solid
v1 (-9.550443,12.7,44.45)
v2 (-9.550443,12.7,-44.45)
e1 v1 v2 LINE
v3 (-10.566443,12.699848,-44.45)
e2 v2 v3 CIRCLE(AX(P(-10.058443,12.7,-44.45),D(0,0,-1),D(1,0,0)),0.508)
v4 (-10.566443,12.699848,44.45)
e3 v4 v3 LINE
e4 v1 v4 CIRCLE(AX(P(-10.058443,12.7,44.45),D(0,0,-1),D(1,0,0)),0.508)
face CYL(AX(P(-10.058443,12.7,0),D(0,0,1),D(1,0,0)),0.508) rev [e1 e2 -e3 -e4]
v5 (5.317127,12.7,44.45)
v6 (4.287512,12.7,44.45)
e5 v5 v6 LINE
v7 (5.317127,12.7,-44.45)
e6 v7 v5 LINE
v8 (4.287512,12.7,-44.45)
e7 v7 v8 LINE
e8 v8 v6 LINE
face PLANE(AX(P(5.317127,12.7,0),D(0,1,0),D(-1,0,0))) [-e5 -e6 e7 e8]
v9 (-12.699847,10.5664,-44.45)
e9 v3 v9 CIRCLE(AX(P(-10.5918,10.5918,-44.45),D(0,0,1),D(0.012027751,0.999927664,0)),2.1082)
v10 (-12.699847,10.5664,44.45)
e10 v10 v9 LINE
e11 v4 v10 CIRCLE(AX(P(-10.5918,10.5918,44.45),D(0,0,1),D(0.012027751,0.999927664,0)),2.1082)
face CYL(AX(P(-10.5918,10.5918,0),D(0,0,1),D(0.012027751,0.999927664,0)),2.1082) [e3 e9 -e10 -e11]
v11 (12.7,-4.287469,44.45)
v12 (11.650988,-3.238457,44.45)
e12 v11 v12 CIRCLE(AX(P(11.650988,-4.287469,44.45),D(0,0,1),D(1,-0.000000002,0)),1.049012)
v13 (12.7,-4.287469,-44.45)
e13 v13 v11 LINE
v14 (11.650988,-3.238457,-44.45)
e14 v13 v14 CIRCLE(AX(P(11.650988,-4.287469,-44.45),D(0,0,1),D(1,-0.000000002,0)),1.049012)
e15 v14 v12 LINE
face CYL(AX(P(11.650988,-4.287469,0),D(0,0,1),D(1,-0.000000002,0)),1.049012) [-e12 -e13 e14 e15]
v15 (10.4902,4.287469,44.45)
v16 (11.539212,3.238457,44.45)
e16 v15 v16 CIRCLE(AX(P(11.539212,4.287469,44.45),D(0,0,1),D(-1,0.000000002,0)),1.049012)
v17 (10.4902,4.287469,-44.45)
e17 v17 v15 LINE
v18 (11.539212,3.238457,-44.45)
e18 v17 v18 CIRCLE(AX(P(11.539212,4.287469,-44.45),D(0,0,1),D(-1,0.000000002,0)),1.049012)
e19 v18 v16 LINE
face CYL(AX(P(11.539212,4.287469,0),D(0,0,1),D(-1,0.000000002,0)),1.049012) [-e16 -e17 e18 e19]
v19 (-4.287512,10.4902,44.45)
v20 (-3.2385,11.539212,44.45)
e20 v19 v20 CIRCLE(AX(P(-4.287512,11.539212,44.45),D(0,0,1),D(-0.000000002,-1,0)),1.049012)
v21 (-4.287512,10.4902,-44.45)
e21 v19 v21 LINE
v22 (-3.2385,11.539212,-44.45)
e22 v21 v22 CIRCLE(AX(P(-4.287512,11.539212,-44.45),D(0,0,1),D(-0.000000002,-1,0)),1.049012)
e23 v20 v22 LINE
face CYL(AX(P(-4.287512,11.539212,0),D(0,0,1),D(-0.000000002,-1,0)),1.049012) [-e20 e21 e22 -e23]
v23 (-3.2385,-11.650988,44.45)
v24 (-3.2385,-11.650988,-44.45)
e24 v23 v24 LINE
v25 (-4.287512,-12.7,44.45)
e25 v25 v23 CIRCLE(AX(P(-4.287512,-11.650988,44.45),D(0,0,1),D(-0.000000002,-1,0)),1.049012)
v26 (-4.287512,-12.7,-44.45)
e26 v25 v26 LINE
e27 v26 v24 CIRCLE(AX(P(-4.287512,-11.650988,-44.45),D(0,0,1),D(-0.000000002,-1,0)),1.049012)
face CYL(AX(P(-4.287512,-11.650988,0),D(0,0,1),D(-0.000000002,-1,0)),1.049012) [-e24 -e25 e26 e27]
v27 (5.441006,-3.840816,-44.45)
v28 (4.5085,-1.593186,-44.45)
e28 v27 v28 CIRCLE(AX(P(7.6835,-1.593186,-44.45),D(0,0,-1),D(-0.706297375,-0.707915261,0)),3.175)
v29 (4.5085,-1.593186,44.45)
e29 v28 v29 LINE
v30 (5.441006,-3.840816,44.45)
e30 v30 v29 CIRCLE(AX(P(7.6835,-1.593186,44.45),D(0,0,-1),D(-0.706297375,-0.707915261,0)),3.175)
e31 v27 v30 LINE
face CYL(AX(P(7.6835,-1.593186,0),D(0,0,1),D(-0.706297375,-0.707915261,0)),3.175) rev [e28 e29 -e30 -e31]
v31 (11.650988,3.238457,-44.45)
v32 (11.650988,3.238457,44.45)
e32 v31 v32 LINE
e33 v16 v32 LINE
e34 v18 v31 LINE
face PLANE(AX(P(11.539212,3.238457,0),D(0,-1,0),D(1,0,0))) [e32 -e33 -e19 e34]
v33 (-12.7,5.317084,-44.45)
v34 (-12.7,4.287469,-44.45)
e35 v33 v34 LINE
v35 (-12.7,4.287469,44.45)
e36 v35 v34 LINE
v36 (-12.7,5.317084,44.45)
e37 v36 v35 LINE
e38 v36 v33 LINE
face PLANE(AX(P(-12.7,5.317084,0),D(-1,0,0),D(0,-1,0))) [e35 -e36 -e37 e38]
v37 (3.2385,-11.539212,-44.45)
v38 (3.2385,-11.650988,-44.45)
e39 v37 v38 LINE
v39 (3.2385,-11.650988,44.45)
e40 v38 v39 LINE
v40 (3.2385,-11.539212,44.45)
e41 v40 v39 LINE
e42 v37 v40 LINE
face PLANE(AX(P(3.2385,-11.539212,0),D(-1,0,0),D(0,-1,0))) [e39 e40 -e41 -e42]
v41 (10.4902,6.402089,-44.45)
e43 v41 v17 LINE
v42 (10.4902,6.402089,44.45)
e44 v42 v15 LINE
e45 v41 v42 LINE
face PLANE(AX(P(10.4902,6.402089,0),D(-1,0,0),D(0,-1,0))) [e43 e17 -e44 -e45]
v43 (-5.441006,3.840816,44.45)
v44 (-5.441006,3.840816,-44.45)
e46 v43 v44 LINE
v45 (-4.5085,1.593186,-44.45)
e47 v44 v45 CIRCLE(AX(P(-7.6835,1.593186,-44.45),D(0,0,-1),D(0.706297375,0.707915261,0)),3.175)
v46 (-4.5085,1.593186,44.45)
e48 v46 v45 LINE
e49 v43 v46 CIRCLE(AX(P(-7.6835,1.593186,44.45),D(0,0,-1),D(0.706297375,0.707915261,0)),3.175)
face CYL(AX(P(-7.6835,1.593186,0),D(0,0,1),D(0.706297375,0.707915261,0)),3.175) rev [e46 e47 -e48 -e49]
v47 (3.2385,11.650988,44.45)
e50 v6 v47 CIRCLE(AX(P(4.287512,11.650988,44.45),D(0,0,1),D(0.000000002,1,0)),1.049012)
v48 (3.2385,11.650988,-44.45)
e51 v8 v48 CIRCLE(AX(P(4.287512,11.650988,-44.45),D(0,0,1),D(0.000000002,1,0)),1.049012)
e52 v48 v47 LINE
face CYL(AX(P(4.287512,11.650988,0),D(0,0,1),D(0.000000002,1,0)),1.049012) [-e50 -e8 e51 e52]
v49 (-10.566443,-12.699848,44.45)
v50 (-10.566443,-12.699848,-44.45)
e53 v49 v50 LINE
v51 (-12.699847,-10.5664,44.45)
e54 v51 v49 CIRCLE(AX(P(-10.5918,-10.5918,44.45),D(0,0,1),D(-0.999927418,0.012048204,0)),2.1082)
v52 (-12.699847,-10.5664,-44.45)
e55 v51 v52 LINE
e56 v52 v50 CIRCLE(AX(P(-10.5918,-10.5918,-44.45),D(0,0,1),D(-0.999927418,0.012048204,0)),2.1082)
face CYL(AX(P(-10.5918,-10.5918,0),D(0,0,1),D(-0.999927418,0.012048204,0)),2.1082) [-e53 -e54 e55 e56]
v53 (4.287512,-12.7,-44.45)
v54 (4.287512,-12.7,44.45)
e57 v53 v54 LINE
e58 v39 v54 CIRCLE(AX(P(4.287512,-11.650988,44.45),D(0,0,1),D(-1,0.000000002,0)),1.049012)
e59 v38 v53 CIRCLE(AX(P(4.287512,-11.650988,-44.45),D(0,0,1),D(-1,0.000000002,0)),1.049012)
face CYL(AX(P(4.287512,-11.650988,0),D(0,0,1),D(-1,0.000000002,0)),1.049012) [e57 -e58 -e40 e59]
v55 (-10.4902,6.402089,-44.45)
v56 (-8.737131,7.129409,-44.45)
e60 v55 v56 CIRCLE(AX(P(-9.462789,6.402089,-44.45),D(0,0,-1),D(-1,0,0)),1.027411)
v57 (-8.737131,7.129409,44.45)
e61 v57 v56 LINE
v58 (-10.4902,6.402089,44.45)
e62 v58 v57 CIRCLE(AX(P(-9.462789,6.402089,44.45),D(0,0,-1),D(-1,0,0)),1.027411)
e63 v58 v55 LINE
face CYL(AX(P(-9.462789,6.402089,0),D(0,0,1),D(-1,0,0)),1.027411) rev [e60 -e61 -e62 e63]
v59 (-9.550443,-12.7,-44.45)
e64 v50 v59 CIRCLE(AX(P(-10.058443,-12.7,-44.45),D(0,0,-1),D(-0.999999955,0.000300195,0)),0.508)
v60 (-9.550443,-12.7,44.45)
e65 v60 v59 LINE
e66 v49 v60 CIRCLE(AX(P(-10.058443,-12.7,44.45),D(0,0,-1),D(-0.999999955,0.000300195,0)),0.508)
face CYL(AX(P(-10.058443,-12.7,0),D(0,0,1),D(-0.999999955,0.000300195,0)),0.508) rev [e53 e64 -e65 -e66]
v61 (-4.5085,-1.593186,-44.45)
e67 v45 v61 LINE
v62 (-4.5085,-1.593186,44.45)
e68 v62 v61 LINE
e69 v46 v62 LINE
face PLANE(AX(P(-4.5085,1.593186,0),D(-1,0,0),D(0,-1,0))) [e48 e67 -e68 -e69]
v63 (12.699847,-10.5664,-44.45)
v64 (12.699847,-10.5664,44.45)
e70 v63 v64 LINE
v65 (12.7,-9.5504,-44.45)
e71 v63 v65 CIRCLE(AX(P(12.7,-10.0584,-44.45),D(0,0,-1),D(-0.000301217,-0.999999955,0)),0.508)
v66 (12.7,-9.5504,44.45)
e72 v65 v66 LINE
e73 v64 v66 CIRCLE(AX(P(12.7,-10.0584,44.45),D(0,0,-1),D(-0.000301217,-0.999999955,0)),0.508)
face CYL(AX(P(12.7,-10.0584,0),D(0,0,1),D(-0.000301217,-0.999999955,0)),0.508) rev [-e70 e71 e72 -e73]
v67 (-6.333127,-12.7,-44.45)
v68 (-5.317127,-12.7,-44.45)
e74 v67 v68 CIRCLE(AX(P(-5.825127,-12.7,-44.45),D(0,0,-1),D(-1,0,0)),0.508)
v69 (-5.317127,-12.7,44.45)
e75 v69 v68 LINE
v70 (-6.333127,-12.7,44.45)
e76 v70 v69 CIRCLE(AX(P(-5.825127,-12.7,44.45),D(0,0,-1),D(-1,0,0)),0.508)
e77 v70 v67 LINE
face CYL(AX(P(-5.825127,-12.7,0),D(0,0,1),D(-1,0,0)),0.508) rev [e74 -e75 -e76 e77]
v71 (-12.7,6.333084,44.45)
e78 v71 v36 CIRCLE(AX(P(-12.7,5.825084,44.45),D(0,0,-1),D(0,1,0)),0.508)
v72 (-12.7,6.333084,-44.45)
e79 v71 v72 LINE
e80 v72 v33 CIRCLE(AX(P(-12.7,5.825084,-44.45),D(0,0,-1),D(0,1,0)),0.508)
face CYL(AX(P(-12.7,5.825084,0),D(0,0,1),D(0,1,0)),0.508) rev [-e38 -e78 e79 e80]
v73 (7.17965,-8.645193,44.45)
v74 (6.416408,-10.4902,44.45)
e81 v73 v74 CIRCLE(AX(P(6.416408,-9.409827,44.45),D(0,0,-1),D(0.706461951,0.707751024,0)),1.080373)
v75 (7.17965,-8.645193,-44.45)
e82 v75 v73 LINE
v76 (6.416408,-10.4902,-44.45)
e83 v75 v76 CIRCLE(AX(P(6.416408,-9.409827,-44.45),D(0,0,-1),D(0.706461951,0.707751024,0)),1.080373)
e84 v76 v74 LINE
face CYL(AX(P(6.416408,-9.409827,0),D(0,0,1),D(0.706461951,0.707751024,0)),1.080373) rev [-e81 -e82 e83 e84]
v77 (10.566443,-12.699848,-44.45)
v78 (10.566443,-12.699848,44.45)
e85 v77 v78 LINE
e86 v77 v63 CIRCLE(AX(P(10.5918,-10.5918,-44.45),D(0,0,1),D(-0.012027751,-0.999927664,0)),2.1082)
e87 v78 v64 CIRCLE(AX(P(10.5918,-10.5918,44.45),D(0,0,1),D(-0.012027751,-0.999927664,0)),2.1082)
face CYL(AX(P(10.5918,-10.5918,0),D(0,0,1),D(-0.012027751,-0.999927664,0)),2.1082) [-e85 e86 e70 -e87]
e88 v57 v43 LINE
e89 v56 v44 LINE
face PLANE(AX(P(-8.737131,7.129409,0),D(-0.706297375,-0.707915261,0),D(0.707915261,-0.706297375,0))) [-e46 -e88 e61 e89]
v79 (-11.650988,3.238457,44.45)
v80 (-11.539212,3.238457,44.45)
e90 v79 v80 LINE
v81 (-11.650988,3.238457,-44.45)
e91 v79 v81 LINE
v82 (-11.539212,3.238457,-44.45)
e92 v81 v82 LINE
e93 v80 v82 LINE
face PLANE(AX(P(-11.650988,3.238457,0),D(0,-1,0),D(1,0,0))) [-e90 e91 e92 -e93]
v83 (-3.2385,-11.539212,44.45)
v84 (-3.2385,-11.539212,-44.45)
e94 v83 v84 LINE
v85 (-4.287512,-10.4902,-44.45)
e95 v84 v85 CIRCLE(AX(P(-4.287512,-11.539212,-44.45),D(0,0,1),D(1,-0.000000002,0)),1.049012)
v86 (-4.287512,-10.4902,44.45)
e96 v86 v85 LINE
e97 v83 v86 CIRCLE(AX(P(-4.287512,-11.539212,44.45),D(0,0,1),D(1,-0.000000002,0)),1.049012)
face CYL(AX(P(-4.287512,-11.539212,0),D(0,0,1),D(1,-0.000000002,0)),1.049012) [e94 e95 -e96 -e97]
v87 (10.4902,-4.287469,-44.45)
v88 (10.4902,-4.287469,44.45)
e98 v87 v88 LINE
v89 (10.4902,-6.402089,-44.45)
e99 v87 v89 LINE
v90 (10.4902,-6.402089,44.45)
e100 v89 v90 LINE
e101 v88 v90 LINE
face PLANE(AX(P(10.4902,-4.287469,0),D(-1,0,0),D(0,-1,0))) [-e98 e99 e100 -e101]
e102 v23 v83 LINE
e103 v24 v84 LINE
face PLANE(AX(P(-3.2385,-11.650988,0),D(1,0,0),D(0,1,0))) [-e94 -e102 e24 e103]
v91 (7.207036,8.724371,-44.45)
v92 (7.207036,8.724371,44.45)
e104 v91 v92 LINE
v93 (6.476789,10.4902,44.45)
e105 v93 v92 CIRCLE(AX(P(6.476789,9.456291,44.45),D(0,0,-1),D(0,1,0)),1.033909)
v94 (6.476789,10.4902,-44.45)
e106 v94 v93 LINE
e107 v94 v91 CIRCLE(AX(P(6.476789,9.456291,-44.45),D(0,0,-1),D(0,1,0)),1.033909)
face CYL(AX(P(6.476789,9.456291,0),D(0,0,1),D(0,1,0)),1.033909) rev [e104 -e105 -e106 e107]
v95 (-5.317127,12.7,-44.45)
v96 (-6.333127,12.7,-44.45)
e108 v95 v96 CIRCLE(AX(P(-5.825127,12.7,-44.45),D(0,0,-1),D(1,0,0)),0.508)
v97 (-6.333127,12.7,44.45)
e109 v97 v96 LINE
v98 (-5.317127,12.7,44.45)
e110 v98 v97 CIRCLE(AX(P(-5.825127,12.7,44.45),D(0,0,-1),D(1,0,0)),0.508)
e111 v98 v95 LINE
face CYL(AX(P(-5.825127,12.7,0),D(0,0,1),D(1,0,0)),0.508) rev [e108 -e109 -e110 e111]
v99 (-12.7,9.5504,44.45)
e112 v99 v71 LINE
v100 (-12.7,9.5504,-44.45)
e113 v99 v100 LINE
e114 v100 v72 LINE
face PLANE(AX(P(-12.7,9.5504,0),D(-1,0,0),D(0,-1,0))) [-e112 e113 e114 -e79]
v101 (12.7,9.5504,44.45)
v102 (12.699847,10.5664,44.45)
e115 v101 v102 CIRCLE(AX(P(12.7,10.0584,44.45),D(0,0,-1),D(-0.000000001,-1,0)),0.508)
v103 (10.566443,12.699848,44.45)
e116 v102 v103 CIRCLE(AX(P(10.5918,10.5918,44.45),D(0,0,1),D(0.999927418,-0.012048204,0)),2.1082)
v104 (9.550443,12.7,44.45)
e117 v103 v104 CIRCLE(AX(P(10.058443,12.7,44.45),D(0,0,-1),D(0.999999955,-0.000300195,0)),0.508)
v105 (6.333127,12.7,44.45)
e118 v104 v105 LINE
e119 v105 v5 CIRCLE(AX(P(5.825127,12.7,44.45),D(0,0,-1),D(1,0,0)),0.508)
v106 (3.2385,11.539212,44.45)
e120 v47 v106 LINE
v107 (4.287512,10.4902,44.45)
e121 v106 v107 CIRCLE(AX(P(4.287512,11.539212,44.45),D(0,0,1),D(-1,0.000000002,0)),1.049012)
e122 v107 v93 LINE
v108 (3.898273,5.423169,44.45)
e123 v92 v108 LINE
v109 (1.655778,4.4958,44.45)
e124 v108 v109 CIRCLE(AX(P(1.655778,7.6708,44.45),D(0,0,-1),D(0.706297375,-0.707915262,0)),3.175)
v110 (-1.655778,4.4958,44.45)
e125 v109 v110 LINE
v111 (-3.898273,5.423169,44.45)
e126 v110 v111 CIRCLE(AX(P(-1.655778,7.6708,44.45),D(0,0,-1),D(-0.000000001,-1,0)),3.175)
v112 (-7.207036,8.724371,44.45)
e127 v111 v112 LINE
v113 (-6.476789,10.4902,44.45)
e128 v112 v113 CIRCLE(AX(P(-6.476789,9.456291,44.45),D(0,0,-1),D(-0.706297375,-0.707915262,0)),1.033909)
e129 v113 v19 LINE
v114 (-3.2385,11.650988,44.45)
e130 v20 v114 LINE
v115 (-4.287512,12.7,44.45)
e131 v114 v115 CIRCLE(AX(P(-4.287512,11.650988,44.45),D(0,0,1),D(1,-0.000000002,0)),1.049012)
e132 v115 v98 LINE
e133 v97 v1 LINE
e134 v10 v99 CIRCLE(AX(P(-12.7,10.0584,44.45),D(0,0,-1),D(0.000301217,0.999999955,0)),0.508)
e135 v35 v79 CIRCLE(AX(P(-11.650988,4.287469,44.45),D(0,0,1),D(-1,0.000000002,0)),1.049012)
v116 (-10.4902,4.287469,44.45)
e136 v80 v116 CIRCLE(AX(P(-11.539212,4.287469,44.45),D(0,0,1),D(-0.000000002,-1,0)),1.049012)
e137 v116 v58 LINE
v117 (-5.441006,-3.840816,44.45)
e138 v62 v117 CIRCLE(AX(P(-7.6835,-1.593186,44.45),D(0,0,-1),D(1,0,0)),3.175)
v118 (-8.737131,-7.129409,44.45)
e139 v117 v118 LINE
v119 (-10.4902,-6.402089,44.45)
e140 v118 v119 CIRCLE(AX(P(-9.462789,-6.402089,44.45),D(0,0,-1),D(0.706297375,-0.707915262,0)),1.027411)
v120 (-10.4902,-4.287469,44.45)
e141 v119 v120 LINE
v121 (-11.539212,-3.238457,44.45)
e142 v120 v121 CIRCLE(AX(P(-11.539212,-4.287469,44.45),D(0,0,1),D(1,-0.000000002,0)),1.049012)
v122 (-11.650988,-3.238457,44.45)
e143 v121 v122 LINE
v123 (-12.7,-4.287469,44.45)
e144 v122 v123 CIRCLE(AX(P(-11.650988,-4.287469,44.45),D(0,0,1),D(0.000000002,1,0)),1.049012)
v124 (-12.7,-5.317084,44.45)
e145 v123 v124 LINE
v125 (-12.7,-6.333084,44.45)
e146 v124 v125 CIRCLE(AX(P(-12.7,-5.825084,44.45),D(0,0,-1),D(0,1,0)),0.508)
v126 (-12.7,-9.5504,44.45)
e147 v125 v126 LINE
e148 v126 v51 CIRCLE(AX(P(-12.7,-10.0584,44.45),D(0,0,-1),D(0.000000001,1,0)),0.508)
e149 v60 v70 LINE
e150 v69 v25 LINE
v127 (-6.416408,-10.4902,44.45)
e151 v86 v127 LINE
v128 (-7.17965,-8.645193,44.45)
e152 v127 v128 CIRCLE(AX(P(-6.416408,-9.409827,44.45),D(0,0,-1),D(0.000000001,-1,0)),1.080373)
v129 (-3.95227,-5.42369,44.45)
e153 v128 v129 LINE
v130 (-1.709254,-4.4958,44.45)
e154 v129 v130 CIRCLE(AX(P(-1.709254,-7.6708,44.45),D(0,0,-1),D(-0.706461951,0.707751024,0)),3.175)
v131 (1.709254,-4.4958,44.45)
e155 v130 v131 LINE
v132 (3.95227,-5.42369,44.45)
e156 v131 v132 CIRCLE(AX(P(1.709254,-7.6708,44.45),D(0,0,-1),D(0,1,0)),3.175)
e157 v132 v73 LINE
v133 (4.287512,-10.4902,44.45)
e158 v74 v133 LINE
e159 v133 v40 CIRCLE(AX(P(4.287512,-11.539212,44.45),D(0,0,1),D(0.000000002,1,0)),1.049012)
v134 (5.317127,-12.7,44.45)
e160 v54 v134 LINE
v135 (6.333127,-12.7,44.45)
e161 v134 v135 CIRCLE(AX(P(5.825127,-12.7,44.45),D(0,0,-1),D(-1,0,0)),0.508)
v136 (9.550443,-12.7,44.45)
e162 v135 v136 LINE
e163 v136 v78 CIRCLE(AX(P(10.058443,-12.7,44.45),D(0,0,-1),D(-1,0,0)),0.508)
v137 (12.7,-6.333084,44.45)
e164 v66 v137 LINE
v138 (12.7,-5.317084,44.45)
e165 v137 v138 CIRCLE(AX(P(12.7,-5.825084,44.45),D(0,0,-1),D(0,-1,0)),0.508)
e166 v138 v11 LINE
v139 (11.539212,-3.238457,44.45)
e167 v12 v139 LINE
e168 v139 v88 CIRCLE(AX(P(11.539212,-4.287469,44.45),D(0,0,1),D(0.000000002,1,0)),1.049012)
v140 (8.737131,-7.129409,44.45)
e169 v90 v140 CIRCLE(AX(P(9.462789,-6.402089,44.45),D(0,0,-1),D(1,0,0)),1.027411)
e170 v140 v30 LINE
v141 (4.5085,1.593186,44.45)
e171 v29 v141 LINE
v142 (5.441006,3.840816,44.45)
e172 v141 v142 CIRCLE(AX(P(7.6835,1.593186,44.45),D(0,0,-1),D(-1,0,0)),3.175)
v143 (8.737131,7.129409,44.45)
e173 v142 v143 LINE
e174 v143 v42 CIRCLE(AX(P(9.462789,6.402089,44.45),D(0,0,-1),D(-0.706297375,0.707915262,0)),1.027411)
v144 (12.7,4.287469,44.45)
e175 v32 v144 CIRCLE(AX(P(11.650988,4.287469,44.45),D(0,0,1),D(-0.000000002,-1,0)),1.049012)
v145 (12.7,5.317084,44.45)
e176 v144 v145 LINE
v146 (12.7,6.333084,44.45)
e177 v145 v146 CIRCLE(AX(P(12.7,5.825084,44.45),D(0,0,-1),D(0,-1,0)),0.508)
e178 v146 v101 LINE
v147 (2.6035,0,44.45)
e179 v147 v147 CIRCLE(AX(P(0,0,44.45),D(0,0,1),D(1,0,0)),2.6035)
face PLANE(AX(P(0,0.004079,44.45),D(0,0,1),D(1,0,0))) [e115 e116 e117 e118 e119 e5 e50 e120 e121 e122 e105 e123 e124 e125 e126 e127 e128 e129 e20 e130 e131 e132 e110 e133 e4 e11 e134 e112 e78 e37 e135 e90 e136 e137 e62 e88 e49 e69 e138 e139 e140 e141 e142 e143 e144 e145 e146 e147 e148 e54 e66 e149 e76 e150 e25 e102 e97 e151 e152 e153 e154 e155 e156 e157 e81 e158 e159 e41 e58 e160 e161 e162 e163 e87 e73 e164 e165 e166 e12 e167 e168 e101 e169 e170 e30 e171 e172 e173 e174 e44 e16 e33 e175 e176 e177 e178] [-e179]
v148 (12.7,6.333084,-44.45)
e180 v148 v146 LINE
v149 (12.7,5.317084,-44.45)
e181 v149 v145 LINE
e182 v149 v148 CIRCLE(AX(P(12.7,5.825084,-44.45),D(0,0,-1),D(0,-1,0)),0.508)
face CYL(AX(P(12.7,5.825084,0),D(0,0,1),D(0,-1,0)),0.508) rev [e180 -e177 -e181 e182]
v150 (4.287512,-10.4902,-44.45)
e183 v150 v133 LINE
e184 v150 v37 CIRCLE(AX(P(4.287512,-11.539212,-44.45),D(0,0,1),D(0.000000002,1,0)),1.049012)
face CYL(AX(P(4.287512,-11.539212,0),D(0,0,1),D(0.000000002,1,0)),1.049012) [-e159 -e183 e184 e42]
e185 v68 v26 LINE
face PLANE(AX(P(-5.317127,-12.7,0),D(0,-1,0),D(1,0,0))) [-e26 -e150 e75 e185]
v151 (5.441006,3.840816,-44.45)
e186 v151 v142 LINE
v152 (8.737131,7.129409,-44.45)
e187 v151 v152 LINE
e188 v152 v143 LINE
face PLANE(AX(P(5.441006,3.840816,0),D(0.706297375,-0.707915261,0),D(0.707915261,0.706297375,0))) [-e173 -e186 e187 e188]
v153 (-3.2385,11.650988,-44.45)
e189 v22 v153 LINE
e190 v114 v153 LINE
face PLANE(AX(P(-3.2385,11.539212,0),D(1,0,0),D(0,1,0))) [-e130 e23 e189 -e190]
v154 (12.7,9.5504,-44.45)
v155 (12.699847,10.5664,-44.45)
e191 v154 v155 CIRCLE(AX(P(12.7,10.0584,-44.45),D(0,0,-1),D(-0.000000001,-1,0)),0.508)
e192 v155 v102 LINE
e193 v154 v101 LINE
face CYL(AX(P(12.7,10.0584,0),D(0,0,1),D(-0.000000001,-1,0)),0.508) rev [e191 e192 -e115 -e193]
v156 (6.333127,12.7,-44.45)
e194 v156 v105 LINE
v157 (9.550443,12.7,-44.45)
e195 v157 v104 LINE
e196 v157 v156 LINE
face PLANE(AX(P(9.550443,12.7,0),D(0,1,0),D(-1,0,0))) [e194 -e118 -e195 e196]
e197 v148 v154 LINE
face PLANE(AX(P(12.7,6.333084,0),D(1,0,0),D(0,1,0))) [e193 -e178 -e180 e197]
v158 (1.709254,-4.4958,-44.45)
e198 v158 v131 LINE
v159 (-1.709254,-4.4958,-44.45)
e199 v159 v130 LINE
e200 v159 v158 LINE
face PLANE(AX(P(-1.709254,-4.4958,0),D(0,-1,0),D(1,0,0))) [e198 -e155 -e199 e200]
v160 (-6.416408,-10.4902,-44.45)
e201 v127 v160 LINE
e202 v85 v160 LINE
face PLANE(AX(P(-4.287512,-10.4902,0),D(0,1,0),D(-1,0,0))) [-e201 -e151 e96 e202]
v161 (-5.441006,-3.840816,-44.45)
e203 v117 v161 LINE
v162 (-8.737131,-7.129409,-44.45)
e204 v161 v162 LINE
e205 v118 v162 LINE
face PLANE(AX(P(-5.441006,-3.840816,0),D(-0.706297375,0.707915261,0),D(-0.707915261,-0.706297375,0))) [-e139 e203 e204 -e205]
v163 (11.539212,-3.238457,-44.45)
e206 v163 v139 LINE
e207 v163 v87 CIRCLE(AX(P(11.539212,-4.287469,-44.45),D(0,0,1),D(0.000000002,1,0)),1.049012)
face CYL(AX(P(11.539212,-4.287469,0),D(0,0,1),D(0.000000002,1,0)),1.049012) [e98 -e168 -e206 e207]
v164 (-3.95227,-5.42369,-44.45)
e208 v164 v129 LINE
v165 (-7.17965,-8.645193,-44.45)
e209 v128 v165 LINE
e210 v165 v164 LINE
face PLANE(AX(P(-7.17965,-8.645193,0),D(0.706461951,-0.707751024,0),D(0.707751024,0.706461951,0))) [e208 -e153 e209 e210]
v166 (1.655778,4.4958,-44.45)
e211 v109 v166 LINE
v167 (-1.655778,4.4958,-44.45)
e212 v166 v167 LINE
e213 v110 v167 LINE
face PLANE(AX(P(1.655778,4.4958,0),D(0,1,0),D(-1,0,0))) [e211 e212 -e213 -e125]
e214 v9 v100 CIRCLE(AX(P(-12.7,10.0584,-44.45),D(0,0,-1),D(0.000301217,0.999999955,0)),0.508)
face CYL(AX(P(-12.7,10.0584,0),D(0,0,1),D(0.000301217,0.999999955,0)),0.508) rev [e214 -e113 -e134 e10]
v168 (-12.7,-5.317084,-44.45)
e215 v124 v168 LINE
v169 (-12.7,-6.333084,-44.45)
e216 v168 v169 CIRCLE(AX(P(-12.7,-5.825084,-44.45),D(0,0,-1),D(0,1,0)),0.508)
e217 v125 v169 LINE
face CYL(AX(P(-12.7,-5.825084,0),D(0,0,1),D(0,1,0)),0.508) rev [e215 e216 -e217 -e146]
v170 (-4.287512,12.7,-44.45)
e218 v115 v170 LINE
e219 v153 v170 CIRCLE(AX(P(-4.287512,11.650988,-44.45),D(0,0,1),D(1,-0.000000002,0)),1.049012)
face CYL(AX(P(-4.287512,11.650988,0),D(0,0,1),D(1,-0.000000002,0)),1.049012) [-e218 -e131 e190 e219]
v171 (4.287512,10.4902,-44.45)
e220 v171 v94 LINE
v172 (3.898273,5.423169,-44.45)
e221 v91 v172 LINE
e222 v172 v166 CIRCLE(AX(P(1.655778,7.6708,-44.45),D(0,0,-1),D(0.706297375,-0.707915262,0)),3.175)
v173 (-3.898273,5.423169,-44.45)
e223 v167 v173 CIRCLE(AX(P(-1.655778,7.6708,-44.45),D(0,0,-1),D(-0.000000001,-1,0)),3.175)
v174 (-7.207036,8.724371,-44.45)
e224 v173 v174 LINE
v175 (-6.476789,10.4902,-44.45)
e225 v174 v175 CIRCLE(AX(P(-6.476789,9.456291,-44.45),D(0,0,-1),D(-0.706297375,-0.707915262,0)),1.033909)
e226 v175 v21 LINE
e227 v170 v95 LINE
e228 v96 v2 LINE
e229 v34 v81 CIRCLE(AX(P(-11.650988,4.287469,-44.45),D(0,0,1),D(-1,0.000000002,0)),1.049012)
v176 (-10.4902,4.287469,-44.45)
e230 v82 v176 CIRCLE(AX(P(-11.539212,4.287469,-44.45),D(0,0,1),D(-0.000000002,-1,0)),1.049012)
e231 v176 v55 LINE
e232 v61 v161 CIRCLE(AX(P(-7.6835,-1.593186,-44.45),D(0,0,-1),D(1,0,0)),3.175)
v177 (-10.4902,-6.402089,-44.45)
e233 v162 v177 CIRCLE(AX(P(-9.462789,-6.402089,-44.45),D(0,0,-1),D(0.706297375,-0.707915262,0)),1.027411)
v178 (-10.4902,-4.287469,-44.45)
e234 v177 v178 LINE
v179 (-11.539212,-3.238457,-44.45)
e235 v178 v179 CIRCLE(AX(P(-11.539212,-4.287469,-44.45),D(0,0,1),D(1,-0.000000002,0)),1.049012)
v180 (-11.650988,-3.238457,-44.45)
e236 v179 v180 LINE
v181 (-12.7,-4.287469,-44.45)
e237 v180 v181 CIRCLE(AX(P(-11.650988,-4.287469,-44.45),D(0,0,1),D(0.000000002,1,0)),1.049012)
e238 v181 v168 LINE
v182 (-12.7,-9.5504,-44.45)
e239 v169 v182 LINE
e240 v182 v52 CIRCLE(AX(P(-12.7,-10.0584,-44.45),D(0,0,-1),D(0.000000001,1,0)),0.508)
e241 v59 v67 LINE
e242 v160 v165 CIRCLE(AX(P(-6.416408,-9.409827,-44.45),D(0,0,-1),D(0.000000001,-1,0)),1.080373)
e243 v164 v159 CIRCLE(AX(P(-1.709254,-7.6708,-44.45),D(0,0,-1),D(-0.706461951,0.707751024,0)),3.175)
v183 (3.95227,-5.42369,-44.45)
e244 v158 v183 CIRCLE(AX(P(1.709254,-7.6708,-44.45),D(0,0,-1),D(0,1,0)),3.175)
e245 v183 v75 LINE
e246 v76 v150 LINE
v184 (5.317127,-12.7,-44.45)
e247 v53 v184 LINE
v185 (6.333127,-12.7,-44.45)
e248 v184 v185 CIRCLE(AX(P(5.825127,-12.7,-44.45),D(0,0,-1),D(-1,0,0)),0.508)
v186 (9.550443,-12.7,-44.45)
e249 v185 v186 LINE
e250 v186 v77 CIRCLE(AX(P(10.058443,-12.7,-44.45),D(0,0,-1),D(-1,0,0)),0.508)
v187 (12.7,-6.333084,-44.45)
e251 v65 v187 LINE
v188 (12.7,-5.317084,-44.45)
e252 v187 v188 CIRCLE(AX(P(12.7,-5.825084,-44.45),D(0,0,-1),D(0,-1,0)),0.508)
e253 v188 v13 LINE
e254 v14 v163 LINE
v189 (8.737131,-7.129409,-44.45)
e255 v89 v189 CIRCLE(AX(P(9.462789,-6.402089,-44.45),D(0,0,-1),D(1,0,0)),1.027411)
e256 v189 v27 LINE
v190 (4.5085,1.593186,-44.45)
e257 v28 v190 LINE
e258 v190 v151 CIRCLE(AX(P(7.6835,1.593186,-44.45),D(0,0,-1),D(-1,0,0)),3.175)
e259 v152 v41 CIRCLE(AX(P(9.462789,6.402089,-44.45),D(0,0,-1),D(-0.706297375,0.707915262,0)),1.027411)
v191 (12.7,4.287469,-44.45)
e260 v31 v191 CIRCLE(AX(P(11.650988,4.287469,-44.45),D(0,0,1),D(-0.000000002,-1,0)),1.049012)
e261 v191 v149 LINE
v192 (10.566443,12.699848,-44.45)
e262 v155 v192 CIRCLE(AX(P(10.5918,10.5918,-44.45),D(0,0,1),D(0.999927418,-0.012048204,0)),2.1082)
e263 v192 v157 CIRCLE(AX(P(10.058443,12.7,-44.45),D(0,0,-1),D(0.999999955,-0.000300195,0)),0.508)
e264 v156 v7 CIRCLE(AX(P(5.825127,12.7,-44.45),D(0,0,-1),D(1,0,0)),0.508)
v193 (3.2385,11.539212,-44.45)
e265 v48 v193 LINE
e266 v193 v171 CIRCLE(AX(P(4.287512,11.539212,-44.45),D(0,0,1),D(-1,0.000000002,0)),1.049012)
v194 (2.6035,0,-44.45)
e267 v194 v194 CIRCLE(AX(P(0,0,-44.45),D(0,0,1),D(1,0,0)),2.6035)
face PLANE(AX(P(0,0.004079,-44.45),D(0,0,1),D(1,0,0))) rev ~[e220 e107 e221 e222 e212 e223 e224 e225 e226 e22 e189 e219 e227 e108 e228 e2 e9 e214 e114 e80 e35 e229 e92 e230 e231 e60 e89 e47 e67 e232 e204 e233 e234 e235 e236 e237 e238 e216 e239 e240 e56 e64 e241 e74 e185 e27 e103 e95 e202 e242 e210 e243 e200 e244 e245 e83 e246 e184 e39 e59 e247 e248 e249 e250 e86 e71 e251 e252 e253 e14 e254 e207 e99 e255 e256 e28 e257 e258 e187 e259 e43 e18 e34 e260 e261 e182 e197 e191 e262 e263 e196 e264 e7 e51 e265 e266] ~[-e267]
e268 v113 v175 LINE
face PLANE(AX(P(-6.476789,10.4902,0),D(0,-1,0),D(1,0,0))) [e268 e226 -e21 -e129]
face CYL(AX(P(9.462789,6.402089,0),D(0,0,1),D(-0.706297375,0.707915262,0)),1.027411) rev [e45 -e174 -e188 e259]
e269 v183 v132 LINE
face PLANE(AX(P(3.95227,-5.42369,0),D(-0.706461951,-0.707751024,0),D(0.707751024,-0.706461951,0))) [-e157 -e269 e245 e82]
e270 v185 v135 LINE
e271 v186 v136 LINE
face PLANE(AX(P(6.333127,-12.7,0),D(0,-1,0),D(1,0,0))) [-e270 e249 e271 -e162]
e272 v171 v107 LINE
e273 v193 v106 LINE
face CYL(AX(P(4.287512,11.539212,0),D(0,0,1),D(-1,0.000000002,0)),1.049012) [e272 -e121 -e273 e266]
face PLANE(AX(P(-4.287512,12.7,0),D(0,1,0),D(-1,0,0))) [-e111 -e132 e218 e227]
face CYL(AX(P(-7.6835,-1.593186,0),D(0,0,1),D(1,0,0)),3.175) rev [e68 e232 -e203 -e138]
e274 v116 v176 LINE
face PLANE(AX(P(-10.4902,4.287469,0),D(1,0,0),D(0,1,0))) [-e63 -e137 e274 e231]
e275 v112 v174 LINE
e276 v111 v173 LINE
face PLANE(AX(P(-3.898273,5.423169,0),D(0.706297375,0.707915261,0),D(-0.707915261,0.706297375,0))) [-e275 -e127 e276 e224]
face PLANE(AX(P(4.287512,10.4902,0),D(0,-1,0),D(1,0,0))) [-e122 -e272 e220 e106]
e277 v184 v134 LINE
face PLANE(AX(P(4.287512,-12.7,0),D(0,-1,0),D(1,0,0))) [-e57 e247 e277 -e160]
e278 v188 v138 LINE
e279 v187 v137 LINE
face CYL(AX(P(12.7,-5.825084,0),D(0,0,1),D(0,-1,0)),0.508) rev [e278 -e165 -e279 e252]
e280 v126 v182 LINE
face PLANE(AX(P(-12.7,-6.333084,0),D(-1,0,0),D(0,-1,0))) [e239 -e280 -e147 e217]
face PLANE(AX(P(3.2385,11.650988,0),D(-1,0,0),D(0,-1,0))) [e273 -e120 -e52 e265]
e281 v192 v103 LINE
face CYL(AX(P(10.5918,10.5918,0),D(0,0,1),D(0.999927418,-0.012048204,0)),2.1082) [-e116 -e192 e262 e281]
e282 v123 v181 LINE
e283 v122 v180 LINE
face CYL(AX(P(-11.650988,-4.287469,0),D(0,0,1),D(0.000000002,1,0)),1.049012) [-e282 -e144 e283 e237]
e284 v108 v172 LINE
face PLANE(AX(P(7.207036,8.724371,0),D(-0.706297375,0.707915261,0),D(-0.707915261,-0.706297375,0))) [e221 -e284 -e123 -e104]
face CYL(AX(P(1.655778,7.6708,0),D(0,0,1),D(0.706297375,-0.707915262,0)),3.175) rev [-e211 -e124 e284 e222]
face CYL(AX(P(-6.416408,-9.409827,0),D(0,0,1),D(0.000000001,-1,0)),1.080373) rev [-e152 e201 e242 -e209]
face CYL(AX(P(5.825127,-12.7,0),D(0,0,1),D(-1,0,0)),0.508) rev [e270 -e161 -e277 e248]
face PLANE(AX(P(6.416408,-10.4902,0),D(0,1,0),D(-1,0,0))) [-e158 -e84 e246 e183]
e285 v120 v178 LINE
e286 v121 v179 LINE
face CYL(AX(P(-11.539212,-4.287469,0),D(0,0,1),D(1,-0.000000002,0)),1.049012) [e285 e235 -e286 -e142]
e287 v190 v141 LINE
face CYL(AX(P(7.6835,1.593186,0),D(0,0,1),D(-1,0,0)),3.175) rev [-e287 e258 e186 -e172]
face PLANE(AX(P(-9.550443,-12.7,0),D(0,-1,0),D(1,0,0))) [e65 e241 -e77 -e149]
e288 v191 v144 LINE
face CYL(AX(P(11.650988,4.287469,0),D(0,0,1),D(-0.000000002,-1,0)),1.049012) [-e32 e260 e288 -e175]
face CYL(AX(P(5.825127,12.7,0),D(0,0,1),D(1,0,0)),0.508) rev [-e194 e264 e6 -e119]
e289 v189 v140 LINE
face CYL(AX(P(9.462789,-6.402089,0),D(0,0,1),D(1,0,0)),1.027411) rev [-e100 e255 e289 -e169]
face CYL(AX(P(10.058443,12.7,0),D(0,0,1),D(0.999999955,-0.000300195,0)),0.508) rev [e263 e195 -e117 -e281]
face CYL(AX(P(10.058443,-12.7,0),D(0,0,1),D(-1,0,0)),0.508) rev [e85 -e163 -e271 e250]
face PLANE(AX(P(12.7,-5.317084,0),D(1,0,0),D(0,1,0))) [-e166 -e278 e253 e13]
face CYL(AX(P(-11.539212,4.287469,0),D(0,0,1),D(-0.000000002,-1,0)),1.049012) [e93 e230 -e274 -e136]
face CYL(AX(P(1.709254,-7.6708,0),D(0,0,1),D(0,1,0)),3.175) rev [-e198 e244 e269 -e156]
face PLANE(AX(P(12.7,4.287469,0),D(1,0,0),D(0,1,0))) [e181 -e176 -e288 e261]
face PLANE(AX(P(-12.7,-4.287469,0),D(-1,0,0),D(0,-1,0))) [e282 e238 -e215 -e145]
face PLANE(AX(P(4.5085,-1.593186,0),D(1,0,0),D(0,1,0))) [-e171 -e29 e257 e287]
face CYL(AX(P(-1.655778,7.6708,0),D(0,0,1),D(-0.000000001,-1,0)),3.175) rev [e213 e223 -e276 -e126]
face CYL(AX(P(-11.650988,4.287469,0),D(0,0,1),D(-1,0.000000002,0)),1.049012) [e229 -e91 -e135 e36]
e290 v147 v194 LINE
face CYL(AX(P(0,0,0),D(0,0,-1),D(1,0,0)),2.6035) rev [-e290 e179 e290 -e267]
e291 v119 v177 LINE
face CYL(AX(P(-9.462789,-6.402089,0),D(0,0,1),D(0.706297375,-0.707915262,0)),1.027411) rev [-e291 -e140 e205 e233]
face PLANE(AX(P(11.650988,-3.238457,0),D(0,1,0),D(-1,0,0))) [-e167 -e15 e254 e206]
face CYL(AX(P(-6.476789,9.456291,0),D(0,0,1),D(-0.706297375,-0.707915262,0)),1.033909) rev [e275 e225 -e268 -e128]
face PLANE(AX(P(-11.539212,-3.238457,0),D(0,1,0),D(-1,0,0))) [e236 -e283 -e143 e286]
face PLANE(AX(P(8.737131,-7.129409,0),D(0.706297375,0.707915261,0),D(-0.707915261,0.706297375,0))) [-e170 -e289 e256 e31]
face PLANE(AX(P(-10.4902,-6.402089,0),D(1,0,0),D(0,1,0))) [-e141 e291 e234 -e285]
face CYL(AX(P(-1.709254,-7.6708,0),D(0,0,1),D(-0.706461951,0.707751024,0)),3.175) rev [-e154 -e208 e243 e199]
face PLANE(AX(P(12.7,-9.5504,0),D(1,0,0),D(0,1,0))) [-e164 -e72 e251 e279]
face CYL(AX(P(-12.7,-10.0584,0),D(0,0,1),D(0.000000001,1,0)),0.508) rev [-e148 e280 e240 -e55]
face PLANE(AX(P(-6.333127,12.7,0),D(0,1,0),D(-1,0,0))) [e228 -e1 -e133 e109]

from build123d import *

# Parameters (mm, degrees)
SKETCH1_R           = 2.6035
BOSS_EXTRUDE1_DEPTH = 44.45


with BuildPart() as part:
    # Sketch1 → Boss-Extrude1 (new, symmetric)
    with BuildSketch(Plane.XY):
        with BuildLine():
            Line((-7.179650497, -8.645192506), (-3.952270251, -5.423690499))
            ThreePointArc((-3.952270251, -5.423690499), (-2.922936451, -4.736929036), (-1.709253557, -4.4958))
            Line((-1.709253557, -4.4958), (1.709253557, -4.4958))
            ThreePointArc((1.709253557, -4.4958), (2.922936451, -4.736929036), (3.952270251, -5.423690499))
            Line((3.952270251, -5.423690499), (7.179650497, -8.645192506))
            ThreePointArc((7.179650497, -8.645192506), (7.41473083, -9.822813117), (6.416408329, -10.4902))
            Line((6.416408329, -10.4902), (4.287512407, -10.4902))
            ThreePointArc((4.287512407, -10.4902), (3.54574862, -10.79744862), (3.2385, -11.539212407))
            Line((3.2385, -11.539212407), (3.2385, -11.650987593))
            ThreePointArc((3.2385, -11.650987593), (3.54574862, -12.39275138), (4.287512407, -12.7))
            Line((4.287512407, -12.7), (5.317126718, -12.7))
            ThreePointArc((5.317126718, -12.7), (5.825126718, -12.192), (6.333126718, -12.7))
            Line((6.333126718, -12.7), (9.550443118, -12.7))
            ThreePointArc((9.550443118, -12.7), (10.058366869, -12.192000006), (10.566443095, -12.699847501))
            ThreePointArc((10.566443095, -12.699847501), (12.082537762, -12.08250727), (12.699846982, -10.566399977))
            ThreePointArc((12.699846982, -10.566399977), (12.192000006, -10.058323491), (12.7, -9.5504))
            Line((12.7, -9.5504), (12.7, -6.3330836))
            ThreePointArc((12.7, -6.3330836), (12.192, -5.8250836), (12.7, -5.3170836))
            Line((12.7, -5.3170836), (12.7, -4.287469289))
            ThreePointArc((12.7, -4.287469289), (12.39275138, -3.545705502), (11.650987593, -3.238456882))
            Line((11.650987593, -3.238456882), (11.539212407, -3.238456882))
            ThreePointArc((11.539212407, -3.238456882), (10.79744862, -3.545705502), (10.4902, -4.287469289))
            Line((10.4902, -4.287469289), (10.4902, -6.402089023))
            ThreePointArc((10.4902, -6.402089023), (9.856505071, -7.351067942), (8.737131347, -7.129408934))
            Line((8.737131347, -7.129408934), (5.441005833, -3.840816462))
            ThreePointArc((5.441005833, -3.840816462), (4.750877967, -2.809883091), (4.5085, -1.593185507))
            Line((4.5085, -1.593185507), (4.5085, 1.593185507))
            ThreePointArc((4.5085, 1.593185507), (4.750877967, 2.809883091), (5.441005833, 3.840816462))
            Line((5.441005833, 3.840816462), (8.737131347, 7.129408934))
            ThreePointArc((8.737131347, 7.129408934), (9.856505071, 7.351067942), (10.4902, 6.402089023))
            Line((10.4902, 6.402089023), (10.4902, 4.287469289))
            ThreePointArc((10.4902, 4.287469289), (10.79744862, 3.545705502), (11.539212407, 3.238456882))
            Line((11.539212407, 3.238456882), (11.650987593, 3.238456882))
            ThreePointArc((11.650987593, 3.238456882), (12.39275138, 3.545705502), (12.7, 4.287469289))
            Line((12.7, 4.287469289), (12.7, 5.3170836))
            ThreePointArc((12.7, 5.3170836), (12.192, 5.8250836), (12.7, 6.3330836))
            Line((12.7, 6.3330836), (12.7, 9.5504))
            ThreePointArc((12.7, 9.5504), (12.192000006, 10.058323491), (12.699846982, 10.566399977))
            ThreePointArc((12.699846982, 10.566399977), (12.082537762, 12.08250727), (10.566443095, 12.699847501))
            ThreePointArc((10.566443095, 12.699847501), (10.058366869, 12.192000006), (9.550443118, 12.7))
            Line((9.550443118, 12.7), (6.333126718, 12.7))
            ThreePointArc((6.333126718, 12.7), (5.825126718, 12.192), (5.317126718, 12.7))
            Line((5.317126718, 12.7), (4.287512407, 12.7))
            ThreePointArc((4.287512407, 12.7), (3.54574862, 12.39275138), (3.2385, 11.650987593))
            Line((3.2385, 11.650987593), (3.2385, 11.539212407))
            ThreePointArc((3.2385, 11.539212407), (3.54574862, 10.79744862), (4.287512407, 10.4902))
            Line((4.287512407, 10.4902), (6.476788598, 10.4902))
            ThreePointArc((6.476788598, 10.4902), (7.432222385, 9.85140422), (7.207036008, 8.724370562))
            Line((7.207036008, 8.724370562), (3.898272566, 5.423169045))
            ThreePointArc((3.898272566, 5.423169045), (2.869120213, 4.736787962), (1.655778399, 4.4958))
            Line((1.655778399, 4.4958), (-1.655778399, 4.4958))
            ThreePointArc((-1.655778399, 4.4958), (-2.869120213, 4.736787962), (-3.898272566, 5.423169045))
            Line((-3.898272566, 5.423169045), (-7.207036008, 8.724370562))
            ThreePointArc((-7.207036008, 8.724370562), (-7.432222385, 9.85140422), (-6.476788598, 10.4902))
            Line((-6.476788598, 10.4902), (-4.287512407, 10.4902))
            ThreePointArc((-4.287512407, 10.4902), (-3.54574862, 10.79744862), (-3.2385, 11.539212407))
            Line((-3.2385, 11.539212407), (-3.2385, 11.650987593))
            ThreePointArc((-3.2385, 11.650987593), (-3.54574862, 12.39275138), (-4.287512407, 12.7))
            Line((-4.287512407, 12.7), (-5.317126718, 12.7))
            ThreePointArc((-5.317126718, 12.7), (-5.825126718, 12.192), (-6.333126718, 12.7))
            Line((-6.333126718, 12.7), (-9.550443118, 12.7))
            ThreePointArc((-9.550443118, 12.7), (-10.058366869, 12.192000006), (-10.566443095, 12.699847501))
            ThreePointArc((-10.566443095, 12.699847501), (-12.082537762, 12.08250727), (-12.699846982, 10.566399977))
            ThreePointArc((-12.699846982, 10.566399977), (-12.192000006, 10.058323491), (-12.7, 9.5504))
            Line((-12.7, 9.5504), (-12.7, 6.3330836))
            ThreePointArc((-12.7, 6.3330836), (-12.192, 5.8250836), (-12.7, 5.3170836))
            Line((-12.7, 5.3170836), (-12.7, 4.287469289))
            ThreePointArc((-12.7, 4.287469289), (-12.39275138, 3.545705502), (-11.650987593, 3.238456882))
            Line((-11.650987593, 3.238456882), (-11.539212407, 3.238456882))
            ThreePointArc((-11.539212407, 3.238456882), (-10.79744862, 3.545705502), (-10.4902, 4.287469289))
            Line((-10.4902, 4.287469289), (-10.4902, 6.402089023))
            ThreePointArc((-10.4902, 6.402089023), (-9.856505071, 7.351067942), (-8.737131347, 7.129408934))
            Line((-8.737131347, 7.129408934), (-5.441005833, 3.840816462))
            ThreePointArc((-5.441005833, 3.840816462), (-4.750877967, 2.809883091), (-4.5085, 1.593185507))
            Line((-4.5085, 1.593185507), (-4.5085, -1.593185507))
            ThreePointArc((-4.5085, -1.593185507), (-4.750877967, -2.809883091), (-5.441005833, -3.840816462))
            Line((-5.441005833, -3.840816462), (-8.737131347, -7.129408934))
            ThreePointArc((-8.737131347, -7.129408934), (-9.856505071, -7.351067942), (-10.4902, -6.402089023))
            Line((-10.4902, -6.402089023), (-10.4902, -4.287469289))
            ThreePointArc((-10.4902, -4.287469289), (-10.79744862, -3.545705502), (-11.539212407, -3.238456882))
            Line((-11.539212407, -3.238456882), (-11.650987593, -3.238456882))
            ThreePointArc((-11.650987593, -3.238456882), (-12.39275138, -3.545705502), (-12.7, -4.287469289))
            Line((-12.7, -4.287469289), (-12.7, -5.3170836))
            ThreePointArc((-12.7, -5.3170836), (-12.192, -5.8250836), (-12.7, -6.3330836))
            Line((-12.7, -6.3330836), (-12.7, -9.5504))
            ThreePointArc((-12.7, -9.5504), (-12.192000006, -10.058323491), (-12.699846982, -10.566399977))
            ThreePointArc((-12.699846982, -10.566399977), (-12.082537762, -12.08250727), (-10.566443095, -12.699847501))
            ThreePointArc((-10.566443095, -12.699847501), (-10.058366869, -12.192000006), (-9.550443118, -12.7))
            Line((-9.550443118, -12.7), (-6.333126718, -12.7))
            ThreePointArc((-6.333126718, -12.7), (-5.825126718, -12.192), (-5.317126718, -12.7))
            Line((-5.317126718, -12.7), (-4.287512407, -12.7))
            ThreePointArc((-4.287512407, -12.7), (-3.54574862, -12.39275138), (-3.2385, -11.650987593))
            Line((-3.2385, -11.650987593), (-3.2385, -11.539212407))
            ThreePointArc((-3.2385, -11.539212407), (-3.54574862, -10.79744862), (-4.287512407, -10.4902))
            Line((-4.287512407, -10.4902), (-6.416408329, -10.4902))
            ThreePointArc((-6.416408329, -10.4902), (-7.41473083, -9.822813117), (-7.179650497, -8.645192506))
        make_face()
        Circle(SKETCH1_R, mode=Mode.SUBTRACT)
    extrude(amount=BOSS_EXTRUDE1_DEPTH, both=True)


solid = part.part
